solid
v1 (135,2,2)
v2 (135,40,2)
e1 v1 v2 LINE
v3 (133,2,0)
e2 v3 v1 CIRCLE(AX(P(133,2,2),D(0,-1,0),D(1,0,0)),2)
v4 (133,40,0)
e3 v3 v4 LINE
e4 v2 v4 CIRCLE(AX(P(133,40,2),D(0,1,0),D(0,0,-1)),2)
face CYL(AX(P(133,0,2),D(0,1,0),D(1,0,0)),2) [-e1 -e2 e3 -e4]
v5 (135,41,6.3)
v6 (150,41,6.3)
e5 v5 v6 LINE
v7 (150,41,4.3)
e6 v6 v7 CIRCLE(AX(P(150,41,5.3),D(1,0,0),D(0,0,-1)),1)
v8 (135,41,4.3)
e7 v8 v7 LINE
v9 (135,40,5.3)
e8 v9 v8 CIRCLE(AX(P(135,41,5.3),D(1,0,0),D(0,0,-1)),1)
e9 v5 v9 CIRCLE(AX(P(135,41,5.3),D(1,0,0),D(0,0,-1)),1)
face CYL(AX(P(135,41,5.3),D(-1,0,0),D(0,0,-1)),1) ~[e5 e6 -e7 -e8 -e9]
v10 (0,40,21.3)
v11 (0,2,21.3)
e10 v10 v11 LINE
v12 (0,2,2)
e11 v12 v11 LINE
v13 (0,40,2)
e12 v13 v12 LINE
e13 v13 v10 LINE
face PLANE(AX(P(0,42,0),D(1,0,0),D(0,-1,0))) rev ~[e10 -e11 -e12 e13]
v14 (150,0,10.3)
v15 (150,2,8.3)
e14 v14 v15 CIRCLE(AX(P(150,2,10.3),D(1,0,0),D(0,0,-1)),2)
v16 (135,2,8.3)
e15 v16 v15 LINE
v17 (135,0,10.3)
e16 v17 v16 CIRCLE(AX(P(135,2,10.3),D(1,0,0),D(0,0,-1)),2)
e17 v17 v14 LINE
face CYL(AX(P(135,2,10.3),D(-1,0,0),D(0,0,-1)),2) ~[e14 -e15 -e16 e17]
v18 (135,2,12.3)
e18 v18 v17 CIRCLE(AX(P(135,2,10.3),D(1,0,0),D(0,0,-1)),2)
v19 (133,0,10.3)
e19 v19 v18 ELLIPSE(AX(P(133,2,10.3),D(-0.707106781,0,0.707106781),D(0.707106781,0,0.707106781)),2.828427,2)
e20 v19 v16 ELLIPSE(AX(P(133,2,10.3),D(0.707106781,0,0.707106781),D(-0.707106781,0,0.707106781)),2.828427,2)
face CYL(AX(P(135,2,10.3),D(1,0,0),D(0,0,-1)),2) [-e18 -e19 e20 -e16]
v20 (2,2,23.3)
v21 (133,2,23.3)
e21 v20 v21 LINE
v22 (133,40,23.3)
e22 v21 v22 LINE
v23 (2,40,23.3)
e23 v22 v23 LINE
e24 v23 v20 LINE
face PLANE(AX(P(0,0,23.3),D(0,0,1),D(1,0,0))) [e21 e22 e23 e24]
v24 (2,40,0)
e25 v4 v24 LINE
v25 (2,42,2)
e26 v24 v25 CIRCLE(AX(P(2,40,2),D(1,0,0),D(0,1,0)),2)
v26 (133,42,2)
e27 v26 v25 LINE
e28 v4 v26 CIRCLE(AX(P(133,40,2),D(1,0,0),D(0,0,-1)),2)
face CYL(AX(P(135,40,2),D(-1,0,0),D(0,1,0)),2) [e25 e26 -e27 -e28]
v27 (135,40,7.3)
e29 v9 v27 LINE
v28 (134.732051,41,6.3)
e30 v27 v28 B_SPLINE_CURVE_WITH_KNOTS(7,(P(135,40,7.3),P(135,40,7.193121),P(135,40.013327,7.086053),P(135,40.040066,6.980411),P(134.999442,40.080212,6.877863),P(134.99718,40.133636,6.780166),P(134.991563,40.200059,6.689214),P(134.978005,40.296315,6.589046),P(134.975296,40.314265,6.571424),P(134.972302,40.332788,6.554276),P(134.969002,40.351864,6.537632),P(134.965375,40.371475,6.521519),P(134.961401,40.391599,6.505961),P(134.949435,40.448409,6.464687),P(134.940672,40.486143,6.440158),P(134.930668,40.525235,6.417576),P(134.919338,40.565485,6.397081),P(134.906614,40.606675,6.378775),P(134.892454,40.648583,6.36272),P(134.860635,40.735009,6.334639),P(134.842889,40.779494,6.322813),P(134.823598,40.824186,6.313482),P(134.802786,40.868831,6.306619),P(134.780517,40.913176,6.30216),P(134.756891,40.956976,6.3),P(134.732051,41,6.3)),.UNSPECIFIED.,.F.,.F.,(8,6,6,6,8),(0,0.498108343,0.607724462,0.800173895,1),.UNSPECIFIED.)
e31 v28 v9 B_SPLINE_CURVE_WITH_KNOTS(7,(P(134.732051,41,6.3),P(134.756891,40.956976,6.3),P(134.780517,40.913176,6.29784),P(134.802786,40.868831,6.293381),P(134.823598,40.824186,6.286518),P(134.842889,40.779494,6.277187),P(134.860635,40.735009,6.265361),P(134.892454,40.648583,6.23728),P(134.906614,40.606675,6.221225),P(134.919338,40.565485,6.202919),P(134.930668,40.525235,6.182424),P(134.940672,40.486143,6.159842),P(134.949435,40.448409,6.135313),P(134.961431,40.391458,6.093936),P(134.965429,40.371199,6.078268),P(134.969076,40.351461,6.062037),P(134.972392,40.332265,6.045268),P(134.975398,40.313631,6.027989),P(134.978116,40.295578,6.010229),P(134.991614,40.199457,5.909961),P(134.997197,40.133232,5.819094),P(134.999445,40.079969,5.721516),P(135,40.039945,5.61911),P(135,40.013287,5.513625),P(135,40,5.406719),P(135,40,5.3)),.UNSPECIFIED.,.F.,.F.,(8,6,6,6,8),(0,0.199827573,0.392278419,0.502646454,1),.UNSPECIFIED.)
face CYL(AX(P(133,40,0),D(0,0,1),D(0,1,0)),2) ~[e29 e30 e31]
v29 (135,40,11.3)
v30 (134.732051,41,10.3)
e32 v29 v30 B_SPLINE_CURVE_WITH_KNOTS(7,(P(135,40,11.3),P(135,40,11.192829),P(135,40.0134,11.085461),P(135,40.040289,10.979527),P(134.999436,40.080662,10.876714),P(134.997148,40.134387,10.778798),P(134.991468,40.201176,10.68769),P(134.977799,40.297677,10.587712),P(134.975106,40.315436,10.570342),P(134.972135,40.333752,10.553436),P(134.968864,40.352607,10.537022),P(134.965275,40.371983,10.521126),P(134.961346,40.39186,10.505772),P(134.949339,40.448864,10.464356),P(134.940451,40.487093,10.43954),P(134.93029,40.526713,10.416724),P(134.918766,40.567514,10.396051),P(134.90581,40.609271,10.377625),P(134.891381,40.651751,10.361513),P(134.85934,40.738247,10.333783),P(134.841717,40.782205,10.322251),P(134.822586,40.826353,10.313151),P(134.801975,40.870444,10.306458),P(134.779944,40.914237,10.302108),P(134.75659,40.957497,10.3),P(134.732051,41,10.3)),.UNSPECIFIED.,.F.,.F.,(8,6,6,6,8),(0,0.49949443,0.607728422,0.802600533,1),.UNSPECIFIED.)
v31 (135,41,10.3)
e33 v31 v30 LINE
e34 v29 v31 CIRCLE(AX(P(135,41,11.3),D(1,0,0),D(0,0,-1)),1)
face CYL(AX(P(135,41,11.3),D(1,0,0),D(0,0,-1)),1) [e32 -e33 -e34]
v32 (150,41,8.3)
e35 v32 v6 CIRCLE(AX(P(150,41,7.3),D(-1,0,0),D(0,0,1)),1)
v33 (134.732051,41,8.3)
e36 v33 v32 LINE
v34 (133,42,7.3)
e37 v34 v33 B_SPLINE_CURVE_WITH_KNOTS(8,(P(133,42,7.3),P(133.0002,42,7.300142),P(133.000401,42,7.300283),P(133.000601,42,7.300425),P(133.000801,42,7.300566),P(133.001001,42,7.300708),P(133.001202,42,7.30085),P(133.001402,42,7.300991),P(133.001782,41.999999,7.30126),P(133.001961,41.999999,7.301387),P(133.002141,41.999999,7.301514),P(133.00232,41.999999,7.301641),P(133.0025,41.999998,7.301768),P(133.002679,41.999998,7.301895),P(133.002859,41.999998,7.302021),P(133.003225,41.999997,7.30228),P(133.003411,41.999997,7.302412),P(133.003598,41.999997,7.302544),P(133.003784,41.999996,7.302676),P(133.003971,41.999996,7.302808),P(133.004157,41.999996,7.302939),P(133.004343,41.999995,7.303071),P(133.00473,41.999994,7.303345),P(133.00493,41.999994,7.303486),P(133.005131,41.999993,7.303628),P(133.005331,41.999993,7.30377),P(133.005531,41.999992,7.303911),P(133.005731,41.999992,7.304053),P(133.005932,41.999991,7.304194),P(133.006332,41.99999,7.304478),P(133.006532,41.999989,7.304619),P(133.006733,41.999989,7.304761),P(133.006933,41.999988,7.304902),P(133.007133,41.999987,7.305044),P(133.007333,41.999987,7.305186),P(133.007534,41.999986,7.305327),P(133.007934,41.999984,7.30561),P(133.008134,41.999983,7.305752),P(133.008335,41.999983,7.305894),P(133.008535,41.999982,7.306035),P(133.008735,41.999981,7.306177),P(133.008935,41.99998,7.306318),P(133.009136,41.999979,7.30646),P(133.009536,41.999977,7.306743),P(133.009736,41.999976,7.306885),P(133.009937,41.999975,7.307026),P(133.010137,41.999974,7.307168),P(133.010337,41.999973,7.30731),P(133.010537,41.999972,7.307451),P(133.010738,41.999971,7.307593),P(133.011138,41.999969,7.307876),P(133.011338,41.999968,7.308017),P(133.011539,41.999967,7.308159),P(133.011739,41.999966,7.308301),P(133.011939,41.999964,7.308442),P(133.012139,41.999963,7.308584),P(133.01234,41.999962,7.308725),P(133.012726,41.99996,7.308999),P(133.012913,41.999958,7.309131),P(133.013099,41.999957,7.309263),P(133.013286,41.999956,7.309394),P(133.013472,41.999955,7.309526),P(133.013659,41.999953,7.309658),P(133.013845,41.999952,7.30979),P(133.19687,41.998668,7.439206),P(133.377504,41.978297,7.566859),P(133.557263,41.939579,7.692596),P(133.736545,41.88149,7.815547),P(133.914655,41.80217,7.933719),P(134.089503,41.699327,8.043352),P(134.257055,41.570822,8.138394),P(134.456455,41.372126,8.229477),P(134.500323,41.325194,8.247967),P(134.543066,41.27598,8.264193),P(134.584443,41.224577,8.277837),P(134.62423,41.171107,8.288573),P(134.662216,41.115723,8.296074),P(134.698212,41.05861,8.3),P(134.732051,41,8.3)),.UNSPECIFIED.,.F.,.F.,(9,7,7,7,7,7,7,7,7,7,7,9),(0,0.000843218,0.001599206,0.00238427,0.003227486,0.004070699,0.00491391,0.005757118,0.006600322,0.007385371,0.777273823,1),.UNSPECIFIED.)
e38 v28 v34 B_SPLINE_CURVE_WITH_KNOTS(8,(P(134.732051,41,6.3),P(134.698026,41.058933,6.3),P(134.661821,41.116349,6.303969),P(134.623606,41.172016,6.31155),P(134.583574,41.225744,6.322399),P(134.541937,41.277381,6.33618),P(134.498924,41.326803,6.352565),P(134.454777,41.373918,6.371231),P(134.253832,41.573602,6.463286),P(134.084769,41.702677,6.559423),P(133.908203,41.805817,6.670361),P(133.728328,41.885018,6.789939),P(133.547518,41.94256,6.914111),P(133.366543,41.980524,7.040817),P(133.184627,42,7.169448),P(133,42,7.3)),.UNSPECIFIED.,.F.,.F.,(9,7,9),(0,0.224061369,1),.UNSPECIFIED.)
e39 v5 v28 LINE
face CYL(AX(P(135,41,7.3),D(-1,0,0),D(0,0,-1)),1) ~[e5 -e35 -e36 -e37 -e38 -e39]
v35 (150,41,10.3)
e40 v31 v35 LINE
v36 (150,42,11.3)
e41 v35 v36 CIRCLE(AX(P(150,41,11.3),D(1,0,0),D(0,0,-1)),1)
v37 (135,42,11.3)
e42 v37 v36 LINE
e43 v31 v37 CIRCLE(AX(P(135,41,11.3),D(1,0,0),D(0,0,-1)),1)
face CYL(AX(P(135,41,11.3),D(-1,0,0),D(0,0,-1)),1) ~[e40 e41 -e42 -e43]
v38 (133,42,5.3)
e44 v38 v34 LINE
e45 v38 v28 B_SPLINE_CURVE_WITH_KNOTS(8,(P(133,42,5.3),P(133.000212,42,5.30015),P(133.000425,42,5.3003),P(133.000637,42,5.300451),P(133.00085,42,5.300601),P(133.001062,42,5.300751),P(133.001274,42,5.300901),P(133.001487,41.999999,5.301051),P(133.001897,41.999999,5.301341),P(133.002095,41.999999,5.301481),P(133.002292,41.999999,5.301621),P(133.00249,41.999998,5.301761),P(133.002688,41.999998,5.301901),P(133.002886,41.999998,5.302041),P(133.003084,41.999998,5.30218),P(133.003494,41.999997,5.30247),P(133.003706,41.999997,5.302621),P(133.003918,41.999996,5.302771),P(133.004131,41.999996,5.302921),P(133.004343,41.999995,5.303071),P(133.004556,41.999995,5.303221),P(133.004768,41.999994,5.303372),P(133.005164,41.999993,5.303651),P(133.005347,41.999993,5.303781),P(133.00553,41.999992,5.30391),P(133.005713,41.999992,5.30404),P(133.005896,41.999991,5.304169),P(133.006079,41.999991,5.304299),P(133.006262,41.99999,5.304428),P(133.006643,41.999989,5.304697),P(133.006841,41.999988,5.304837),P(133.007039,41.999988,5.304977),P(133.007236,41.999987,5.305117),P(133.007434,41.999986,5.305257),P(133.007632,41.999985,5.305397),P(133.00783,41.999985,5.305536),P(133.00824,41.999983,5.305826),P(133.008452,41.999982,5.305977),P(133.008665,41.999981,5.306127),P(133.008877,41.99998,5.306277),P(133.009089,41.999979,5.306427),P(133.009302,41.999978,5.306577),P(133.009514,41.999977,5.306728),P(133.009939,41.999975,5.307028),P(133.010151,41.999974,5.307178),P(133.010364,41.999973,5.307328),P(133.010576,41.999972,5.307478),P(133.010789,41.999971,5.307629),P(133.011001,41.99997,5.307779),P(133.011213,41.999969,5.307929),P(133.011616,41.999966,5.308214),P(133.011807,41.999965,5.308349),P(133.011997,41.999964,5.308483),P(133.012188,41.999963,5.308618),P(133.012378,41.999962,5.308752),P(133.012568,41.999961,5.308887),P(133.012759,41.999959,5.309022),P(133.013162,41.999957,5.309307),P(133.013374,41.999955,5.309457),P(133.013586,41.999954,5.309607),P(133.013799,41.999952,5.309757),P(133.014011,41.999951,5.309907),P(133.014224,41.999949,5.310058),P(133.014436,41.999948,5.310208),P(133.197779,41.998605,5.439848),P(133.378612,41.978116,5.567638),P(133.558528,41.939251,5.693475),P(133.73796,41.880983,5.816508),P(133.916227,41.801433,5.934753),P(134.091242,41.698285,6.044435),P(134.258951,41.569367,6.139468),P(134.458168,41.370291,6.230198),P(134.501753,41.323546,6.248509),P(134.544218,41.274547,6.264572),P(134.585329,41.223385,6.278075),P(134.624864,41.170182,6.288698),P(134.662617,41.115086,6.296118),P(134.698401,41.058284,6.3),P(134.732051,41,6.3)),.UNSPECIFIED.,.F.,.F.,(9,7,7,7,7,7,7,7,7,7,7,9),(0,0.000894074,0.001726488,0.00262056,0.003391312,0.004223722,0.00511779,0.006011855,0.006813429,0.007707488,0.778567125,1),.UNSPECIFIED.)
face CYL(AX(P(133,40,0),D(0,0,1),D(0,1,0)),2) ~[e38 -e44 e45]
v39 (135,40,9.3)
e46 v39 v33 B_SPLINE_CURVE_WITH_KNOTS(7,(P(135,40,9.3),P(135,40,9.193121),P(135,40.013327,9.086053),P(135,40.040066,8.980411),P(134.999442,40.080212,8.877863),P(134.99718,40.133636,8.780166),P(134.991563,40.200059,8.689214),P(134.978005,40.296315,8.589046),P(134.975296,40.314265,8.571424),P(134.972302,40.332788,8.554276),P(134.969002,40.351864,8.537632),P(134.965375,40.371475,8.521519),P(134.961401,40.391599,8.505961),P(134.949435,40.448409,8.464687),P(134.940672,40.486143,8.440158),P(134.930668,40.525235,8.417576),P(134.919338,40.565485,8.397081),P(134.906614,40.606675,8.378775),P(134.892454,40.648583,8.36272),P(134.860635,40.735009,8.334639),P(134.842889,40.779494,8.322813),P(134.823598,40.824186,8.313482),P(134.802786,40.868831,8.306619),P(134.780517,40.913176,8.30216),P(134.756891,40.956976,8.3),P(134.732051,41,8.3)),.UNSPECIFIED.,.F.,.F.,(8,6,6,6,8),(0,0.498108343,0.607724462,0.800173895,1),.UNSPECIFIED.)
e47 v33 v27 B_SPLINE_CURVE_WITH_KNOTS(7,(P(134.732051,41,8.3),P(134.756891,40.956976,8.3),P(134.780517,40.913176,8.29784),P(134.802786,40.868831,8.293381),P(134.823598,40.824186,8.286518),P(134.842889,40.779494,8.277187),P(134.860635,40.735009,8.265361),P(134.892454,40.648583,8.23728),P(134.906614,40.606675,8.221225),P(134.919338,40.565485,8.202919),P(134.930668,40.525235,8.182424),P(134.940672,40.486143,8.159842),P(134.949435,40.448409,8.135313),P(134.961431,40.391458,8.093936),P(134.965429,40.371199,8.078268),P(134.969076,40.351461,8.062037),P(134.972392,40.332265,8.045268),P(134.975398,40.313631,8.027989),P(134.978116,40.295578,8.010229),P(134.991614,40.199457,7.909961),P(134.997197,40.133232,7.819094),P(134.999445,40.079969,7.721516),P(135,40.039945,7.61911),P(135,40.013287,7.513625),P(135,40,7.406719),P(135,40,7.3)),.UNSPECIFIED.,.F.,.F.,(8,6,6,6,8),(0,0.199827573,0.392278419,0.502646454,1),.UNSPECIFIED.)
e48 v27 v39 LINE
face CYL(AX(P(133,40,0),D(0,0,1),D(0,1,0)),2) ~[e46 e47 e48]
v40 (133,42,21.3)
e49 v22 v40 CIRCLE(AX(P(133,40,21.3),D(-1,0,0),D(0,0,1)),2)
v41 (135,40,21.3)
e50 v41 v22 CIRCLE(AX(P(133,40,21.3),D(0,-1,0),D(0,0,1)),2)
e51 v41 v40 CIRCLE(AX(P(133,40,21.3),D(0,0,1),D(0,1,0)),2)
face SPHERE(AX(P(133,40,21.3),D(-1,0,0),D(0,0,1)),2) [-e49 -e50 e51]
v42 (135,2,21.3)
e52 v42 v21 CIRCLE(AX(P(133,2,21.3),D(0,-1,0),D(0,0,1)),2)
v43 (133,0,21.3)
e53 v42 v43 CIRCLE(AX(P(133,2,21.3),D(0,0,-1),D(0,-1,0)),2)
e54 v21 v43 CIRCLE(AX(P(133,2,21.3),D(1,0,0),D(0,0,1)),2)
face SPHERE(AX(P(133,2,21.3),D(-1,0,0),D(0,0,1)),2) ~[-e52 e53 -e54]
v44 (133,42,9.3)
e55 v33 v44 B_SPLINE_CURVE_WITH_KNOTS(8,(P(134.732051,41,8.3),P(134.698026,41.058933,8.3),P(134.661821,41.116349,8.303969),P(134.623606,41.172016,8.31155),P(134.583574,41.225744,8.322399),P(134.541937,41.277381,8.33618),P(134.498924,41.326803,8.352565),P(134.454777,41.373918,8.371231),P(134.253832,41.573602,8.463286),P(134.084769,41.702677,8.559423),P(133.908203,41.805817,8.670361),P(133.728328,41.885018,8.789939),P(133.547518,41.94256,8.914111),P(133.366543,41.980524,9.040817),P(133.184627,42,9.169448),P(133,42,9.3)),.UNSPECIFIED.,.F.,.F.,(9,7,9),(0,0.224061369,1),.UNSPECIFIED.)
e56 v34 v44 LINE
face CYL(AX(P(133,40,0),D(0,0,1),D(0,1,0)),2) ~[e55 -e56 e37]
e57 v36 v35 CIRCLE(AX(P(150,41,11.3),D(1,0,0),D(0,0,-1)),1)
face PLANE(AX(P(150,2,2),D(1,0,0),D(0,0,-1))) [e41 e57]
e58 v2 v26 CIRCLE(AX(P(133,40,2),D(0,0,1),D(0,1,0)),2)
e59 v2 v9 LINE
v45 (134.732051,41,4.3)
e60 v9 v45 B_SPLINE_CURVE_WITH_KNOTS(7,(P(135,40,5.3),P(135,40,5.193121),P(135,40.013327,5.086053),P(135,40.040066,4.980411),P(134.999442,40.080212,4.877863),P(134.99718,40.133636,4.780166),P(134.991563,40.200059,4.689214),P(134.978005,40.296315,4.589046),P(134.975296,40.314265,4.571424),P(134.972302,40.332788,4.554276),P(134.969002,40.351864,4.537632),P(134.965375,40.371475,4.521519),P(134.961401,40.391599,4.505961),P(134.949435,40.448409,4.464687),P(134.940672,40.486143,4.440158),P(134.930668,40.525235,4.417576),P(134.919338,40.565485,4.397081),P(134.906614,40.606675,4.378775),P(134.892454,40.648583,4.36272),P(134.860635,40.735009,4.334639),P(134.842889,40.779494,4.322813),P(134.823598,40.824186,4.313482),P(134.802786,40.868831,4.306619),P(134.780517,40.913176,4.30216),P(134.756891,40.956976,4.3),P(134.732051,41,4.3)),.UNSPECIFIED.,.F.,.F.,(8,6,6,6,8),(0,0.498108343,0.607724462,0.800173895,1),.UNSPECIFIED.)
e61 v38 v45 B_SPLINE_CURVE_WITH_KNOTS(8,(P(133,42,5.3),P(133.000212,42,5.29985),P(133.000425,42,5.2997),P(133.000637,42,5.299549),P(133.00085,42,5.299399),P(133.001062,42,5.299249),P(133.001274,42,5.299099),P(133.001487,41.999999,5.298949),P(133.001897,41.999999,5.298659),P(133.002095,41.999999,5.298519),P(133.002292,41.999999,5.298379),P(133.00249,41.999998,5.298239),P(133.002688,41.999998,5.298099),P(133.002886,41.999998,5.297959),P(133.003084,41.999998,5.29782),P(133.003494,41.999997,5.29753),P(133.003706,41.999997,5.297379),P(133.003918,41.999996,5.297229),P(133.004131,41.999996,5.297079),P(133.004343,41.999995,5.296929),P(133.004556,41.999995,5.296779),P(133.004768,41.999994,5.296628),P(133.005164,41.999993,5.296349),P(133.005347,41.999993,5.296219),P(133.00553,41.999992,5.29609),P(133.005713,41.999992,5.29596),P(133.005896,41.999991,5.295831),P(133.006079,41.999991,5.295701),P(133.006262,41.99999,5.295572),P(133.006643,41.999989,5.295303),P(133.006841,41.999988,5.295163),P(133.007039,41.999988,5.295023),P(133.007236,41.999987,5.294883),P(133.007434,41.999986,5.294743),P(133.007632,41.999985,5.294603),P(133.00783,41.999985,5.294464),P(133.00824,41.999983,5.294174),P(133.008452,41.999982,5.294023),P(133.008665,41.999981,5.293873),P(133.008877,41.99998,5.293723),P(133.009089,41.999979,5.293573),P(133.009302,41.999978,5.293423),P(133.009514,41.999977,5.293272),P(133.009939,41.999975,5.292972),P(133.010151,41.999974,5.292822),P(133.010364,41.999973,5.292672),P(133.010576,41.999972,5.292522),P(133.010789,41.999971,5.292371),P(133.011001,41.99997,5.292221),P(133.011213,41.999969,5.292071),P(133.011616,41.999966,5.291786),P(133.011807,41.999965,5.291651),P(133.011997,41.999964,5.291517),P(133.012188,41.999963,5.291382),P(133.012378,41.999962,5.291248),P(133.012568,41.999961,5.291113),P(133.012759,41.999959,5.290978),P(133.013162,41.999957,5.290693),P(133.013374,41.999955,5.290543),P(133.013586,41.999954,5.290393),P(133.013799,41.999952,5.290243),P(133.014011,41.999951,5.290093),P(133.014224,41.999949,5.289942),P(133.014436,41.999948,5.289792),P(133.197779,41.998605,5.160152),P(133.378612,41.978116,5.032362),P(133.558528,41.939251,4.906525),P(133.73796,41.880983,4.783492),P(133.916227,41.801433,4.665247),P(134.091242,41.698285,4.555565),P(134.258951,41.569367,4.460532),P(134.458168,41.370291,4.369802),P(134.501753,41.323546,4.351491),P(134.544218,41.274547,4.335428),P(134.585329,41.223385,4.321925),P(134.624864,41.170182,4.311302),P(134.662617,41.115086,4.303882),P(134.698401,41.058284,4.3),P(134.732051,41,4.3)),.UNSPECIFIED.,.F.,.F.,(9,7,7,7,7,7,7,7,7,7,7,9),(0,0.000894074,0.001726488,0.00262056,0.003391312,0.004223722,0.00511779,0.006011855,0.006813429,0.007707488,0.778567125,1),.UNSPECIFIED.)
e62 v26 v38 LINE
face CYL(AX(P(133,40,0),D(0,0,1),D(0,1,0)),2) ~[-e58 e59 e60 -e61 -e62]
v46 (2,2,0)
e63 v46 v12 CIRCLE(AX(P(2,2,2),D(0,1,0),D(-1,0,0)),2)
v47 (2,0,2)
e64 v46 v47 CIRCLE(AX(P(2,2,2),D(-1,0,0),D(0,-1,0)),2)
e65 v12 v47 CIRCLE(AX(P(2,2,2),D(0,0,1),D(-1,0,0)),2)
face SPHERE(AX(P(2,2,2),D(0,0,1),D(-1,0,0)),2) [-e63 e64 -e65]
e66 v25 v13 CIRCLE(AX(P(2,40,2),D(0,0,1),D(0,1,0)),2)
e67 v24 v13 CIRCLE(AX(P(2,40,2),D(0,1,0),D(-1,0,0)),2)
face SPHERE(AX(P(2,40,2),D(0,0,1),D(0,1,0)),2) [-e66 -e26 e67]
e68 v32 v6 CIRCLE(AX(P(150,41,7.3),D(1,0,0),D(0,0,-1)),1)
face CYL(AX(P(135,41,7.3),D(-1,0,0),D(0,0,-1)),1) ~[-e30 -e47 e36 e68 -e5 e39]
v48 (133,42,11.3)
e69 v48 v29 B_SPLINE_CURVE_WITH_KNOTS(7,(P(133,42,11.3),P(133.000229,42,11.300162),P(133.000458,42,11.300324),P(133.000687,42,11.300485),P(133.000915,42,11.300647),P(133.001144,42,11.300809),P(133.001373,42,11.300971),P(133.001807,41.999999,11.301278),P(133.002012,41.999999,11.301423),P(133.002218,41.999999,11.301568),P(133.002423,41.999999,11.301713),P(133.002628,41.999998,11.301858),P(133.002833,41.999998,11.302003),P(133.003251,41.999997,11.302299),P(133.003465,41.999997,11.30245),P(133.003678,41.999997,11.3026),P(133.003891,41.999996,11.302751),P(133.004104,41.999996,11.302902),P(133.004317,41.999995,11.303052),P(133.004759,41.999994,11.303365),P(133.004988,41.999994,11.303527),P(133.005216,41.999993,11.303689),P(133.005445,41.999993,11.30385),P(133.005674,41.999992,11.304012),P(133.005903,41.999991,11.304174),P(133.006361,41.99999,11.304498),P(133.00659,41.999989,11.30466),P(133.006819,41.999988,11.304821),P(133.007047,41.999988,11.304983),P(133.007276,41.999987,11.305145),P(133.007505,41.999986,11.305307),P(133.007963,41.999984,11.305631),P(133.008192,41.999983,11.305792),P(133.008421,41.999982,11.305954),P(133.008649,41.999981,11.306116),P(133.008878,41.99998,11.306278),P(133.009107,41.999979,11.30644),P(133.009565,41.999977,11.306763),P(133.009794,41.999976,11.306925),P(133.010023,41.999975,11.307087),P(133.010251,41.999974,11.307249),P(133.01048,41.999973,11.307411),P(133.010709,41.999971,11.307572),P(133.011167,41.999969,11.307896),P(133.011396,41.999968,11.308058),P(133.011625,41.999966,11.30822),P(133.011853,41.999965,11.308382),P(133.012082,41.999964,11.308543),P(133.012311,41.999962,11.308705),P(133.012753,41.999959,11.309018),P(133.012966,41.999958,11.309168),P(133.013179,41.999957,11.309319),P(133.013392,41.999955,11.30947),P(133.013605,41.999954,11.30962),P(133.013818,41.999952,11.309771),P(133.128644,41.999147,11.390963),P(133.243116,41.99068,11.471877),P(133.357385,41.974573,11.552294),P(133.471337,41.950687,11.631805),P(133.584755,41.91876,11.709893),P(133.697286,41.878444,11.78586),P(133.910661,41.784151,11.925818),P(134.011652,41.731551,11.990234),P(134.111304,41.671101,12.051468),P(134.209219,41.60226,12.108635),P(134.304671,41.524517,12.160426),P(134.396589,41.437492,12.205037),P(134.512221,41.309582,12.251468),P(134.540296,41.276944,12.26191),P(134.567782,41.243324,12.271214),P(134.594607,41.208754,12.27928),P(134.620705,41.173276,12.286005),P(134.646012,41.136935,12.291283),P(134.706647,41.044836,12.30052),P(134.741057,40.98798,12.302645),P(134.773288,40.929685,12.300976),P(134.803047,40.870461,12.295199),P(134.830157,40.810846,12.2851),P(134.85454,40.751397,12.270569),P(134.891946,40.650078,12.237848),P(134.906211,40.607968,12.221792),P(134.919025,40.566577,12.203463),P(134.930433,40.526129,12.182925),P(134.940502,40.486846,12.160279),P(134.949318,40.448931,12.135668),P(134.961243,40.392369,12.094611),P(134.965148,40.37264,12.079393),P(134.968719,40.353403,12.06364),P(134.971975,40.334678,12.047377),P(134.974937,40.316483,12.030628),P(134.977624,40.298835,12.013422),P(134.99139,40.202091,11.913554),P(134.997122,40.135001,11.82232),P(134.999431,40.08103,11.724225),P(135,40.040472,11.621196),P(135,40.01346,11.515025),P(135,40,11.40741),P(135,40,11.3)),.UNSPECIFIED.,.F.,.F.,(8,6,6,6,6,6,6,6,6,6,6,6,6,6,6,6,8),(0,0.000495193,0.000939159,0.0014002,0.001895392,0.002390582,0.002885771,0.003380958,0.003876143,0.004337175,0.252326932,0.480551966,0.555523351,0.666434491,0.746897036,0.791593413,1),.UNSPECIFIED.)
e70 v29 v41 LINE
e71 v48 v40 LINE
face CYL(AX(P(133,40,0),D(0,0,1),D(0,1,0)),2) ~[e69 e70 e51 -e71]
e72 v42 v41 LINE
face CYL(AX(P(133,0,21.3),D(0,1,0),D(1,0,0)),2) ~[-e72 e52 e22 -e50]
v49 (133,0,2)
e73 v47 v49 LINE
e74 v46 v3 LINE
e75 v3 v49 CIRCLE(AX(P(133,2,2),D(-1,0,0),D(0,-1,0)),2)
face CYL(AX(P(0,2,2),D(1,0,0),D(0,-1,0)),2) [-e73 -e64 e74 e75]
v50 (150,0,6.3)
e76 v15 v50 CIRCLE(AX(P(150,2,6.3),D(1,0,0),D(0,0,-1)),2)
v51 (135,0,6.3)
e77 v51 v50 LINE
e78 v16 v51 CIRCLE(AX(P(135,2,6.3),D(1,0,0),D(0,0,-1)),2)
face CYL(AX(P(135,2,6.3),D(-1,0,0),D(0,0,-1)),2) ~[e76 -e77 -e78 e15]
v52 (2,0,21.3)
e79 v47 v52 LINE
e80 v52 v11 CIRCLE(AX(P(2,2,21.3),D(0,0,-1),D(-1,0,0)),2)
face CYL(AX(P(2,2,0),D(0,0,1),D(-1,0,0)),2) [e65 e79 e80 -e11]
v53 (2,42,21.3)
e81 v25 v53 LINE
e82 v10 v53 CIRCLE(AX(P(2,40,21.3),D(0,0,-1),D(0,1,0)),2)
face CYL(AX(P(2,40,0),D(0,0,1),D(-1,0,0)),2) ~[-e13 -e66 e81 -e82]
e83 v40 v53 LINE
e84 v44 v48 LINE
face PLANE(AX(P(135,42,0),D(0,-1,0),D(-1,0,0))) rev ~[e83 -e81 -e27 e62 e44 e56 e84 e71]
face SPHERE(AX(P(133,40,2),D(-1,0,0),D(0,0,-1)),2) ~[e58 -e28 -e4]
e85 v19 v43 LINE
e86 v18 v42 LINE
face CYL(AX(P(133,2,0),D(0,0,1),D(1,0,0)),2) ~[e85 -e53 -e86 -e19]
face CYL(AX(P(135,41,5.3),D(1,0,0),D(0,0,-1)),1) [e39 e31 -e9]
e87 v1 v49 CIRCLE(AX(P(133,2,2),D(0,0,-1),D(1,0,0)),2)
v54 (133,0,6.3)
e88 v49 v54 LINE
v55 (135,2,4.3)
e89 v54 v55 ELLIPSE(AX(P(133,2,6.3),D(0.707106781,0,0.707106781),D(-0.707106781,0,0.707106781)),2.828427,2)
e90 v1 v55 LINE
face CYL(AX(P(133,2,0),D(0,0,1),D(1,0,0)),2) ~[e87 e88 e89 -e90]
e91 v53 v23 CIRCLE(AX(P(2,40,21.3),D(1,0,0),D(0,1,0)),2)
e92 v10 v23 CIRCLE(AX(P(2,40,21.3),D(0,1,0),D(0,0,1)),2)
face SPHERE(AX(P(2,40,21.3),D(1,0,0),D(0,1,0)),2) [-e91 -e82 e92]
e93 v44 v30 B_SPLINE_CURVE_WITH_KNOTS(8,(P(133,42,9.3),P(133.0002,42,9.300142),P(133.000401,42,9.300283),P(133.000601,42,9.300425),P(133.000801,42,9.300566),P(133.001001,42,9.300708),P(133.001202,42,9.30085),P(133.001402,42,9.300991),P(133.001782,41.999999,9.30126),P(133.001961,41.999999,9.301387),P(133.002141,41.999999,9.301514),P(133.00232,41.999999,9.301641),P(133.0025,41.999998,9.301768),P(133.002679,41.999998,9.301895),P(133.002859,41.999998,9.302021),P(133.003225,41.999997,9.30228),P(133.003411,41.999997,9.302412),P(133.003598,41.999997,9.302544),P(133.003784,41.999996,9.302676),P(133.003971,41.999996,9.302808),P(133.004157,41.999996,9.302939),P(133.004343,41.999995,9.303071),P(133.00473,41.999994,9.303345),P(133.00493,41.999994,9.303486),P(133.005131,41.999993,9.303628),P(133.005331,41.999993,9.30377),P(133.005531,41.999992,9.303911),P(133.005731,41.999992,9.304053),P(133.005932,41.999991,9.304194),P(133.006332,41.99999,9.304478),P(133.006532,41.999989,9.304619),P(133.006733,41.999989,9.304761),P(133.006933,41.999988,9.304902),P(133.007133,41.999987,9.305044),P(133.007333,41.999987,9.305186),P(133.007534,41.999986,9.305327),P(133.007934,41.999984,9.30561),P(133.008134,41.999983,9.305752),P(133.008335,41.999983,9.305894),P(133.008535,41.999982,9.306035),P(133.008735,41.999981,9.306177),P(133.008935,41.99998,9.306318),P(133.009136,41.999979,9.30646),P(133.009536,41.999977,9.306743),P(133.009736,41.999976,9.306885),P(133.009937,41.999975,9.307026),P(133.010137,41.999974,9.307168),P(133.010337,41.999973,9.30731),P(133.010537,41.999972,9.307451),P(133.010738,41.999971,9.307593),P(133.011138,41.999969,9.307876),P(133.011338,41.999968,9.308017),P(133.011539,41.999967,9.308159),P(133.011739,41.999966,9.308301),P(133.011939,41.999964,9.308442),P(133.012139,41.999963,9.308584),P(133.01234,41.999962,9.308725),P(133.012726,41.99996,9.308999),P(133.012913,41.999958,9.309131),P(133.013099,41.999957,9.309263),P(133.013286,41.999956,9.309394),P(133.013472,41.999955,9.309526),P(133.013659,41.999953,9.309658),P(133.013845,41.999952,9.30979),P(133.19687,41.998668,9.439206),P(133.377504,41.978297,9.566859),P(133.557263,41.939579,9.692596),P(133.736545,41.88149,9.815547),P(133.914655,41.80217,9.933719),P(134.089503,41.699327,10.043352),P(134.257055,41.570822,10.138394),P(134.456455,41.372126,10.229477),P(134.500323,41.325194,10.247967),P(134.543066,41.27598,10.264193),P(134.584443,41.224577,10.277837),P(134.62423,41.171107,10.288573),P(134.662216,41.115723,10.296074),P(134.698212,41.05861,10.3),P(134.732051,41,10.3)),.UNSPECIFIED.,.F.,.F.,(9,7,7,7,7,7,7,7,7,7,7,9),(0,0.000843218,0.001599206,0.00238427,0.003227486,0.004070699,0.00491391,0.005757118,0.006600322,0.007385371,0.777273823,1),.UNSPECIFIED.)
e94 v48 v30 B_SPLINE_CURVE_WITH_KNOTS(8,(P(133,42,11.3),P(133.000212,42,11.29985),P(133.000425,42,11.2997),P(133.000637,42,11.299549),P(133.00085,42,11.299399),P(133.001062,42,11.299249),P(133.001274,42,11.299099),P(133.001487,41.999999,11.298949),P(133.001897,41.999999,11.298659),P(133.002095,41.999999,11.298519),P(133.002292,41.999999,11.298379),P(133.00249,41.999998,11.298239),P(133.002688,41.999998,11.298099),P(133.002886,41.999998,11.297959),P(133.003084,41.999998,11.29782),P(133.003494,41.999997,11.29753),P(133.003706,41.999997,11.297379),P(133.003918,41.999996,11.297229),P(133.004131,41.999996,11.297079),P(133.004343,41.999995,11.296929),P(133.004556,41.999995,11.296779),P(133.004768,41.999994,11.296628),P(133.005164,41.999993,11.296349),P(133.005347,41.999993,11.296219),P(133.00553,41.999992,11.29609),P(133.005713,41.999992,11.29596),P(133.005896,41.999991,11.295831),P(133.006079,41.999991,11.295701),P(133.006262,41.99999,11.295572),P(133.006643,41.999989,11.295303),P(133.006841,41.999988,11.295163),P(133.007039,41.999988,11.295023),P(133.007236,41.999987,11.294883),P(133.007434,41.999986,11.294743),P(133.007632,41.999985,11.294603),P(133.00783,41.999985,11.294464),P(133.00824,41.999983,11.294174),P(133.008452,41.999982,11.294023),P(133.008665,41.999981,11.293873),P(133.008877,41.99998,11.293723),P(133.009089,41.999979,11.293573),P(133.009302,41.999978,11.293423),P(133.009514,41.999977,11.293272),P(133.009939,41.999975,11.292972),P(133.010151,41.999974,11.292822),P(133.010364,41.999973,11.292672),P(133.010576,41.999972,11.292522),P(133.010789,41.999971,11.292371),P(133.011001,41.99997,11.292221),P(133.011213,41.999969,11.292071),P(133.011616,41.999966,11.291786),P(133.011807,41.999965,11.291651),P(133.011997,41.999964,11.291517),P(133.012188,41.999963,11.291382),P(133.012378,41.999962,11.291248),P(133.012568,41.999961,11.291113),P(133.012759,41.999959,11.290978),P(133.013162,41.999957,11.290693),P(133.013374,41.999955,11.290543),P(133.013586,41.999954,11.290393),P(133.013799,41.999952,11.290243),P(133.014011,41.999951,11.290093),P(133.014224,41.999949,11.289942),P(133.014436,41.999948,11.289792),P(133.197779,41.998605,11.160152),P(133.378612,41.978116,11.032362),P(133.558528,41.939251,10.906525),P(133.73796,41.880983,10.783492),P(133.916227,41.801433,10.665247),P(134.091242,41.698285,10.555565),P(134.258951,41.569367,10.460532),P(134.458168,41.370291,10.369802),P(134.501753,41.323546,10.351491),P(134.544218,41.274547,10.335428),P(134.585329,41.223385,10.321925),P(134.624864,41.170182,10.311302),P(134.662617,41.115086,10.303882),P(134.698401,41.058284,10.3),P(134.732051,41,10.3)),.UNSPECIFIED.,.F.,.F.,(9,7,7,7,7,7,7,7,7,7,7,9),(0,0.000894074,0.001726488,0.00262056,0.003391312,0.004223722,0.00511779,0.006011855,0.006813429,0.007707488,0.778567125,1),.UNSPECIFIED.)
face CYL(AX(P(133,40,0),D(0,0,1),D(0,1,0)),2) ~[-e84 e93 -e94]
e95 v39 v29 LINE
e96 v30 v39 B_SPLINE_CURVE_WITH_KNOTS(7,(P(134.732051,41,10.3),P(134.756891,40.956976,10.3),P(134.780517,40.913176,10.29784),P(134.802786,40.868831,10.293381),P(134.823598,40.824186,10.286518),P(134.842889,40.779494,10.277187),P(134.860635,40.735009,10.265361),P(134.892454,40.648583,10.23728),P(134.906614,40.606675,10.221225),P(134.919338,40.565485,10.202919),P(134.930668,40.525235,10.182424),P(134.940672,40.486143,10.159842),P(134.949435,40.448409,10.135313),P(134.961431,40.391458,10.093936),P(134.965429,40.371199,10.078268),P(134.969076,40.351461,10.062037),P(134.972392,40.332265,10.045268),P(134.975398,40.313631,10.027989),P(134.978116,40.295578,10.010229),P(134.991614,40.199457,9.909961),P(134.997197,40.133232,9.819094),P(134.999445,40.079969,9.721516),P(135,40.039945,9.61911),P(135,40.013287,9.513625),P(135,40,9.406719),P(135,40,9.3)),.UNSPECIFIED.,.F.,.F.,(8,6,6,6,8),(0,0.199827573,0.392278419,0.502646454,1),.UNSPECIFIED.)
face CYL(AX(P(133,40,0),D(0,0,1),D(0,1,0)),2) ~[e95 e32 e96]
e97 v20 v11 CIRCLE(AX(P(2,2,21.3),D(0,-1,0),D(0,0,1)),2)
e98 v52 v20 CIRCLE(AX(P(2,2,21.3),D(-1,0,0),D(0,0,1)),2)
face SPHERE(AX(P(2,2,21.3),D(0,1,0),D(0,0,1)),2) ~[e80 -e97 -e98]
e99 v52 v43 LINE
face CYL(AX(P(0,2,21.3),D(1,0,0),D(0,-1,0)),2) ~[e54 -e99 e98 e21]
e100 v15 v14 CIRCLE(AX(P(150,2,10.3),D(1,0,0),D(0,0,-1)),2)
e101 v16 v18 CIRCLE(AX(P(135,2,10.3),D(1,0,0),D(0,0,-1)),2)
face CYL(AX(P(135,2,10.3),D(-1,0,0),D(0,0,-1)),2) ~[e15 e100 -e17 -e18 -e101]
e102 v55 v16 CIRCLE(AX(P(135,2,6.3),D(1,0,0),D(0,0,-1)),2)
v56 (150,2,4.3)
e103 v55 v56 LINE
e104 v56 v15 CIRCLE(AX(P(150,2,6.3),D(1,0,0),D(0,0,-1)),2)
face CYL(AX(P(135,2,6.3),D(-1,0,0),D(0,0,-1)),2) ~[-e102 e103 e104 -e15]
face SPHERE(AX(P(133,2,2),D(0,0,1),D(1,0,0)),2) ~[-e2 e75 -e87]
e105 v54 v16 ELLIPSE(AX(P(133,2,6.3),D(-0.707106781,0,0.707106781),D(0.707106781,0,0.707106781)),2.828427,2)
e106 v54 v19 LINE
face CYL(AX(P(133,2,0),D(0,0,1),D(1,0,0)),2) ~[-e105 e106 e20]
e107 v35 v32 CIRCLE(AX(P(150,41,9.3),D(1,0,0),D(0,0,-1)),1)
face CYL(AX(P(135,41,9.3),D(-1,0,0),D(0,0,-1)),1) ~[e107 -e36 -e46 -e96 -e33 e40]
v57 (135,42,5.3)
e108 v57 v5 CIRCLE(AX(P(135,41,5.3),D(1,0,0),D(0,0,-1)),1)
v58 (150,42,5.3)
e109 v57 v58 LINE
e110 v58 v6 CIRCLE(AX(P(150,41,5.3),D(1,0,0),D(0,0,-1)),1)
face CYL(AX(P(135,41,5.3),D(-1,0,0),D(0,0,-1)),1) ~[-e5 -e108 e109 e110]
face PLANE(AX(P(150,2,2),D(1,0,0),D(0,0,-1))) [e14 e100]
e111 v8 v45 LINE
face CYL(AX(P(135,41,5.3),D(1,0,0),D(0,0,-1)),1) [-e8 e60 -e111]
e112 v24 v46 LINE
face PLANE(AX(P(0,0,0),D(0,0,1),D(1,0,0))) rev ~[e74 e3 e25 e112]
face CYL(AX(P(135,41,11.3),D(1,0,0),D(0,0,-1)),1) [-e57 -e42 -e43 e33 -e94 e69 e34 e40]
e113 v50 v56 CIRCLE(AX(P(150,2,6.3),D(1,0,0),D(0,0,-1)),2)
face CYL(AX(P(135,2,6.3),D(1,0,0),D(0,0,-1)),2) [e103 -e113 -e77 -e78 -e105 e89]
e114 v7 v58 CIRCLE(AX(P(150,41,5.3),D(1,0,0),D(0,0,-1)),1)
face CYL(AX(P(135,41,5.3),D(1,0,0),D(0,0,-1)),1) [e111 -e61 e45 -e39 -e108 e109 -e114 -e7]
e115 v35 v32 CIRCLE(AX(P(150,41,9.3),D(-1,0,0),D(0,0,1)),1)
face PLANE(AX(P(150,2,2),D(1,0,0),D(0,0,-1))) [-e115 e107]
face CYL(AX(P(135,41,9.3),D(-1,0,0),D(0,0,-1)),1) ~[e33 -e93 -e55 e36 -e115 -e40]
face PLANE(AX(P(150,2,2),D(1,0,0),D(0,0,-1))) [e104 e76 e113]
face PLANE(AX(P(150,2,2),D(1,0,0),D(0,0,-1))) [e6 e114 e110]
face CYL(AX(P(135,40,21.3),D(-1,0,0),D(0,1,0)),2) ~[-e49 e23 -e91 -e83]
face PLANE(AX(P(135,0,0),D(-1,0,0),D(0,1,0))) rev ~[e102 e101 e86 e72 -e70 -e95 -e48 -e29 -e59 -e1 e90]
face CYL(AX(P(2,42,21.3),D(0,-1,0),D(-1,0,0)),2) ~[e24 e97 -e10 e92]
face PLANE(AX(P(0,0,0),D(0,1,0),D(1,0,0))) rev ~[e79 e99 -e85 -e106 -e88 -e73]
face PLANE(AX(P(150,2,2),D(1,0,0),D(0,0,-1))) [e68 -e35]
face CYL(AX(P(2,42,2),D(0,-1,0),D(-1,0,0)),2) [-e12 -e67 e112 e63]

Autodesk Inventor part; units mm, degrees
ref_plane "YZ Plane" through (0, 0, 0) normal (1, 0, 0) x (0, 1, 0)
ref_plane "XZ Plane" through (0, 0, 0) normal (0, 1, 0) x (-1, 0, 0)
ref_plane "XY Plane" through (0, 0, 0) normal (0, 0, 1) x (1, 0, 0)
sketch "Sketch1" plane through (0, 0, 0) normal (0, 0, 1) x (1, 0, 0)
  line L0 (0, 0) -> (135, 0)
  line L1 (135, 0) -> (135, 42)
  line L2 (135, 42) -> (0, 42)
  line L3 (0, 42) -> (0, 0)
  dimension "d0" = 135
  dimension "d1" = 42
extrude "Extrusion1" add sketch "Sketch1" along normal blind 23.3
fillet "Fillet1" radius 2 12 edges at (67.5, 42, 23.3) (0, 42, 11.65) (67.5, 42, 0) (0, 21, 23.3) (67.5, 0, 23.3) (0, 0, 11.65) (0, 21, 0) (135, 21, 23.3) (135, 0, 11.65) (135, 21, 0) (135, 42, 11.65) (67.5, 0, 0)
sketch "Sketch2" plane through (0, 0, 23.3) normal (0, 0, 1) x (1, 0, 0)
  line L0 (112.9507, 4.761) -> (47.847, 4.761) construction
  line L1 (47.847, 4.761) -> (47.847, 21.3737) construction
  line L2 (47.847, 21.3737) -> (112.9507, 21.3737) construction
  line L3 (112.9507, 21.3737) -> (112.9507, 4.761) construction
sketch "Sketch3" plane through (135, 2, 2) normal (1, 0, 0) x (0, 0, -1)
  line L0 (-19.3, -2) -> (0, -2) projected
  line L1 (0, 40) -> (-19.3, 40) projected
  circle A0 centre (-8.3, 0) radius 2
  circle A1 centre (-4.3, 0) radius 2
  circle A2 centre (-9.3, 39) radius 1
  circle A3 centre (-7.3, 39) radius 1
  circle A4 centre (-5.3, 39) radius 1
  circle A5 centre (-3.3, 39) radius 1
  line L2 (-21.3, 38) -> (-21.3, 0) projected
  point P0 (2, -2)
  dimension "d5" = 4
  dimension "d6" = 4
  dimension "d7" = 2
  dimension "d8" = 2
  dimension "d9" = 2
  dimension "d10" = 2
  dimension "d11" = 12
  dimension "d12" = 13
extrude "Extrusion2" add sketch "Sketch3" along normal blind 15 and the other way blind 3 contours A0 | A1 | A5 | A4 | A3 | A2
properties part number "DriveBattery" material "ABS Plastic"
